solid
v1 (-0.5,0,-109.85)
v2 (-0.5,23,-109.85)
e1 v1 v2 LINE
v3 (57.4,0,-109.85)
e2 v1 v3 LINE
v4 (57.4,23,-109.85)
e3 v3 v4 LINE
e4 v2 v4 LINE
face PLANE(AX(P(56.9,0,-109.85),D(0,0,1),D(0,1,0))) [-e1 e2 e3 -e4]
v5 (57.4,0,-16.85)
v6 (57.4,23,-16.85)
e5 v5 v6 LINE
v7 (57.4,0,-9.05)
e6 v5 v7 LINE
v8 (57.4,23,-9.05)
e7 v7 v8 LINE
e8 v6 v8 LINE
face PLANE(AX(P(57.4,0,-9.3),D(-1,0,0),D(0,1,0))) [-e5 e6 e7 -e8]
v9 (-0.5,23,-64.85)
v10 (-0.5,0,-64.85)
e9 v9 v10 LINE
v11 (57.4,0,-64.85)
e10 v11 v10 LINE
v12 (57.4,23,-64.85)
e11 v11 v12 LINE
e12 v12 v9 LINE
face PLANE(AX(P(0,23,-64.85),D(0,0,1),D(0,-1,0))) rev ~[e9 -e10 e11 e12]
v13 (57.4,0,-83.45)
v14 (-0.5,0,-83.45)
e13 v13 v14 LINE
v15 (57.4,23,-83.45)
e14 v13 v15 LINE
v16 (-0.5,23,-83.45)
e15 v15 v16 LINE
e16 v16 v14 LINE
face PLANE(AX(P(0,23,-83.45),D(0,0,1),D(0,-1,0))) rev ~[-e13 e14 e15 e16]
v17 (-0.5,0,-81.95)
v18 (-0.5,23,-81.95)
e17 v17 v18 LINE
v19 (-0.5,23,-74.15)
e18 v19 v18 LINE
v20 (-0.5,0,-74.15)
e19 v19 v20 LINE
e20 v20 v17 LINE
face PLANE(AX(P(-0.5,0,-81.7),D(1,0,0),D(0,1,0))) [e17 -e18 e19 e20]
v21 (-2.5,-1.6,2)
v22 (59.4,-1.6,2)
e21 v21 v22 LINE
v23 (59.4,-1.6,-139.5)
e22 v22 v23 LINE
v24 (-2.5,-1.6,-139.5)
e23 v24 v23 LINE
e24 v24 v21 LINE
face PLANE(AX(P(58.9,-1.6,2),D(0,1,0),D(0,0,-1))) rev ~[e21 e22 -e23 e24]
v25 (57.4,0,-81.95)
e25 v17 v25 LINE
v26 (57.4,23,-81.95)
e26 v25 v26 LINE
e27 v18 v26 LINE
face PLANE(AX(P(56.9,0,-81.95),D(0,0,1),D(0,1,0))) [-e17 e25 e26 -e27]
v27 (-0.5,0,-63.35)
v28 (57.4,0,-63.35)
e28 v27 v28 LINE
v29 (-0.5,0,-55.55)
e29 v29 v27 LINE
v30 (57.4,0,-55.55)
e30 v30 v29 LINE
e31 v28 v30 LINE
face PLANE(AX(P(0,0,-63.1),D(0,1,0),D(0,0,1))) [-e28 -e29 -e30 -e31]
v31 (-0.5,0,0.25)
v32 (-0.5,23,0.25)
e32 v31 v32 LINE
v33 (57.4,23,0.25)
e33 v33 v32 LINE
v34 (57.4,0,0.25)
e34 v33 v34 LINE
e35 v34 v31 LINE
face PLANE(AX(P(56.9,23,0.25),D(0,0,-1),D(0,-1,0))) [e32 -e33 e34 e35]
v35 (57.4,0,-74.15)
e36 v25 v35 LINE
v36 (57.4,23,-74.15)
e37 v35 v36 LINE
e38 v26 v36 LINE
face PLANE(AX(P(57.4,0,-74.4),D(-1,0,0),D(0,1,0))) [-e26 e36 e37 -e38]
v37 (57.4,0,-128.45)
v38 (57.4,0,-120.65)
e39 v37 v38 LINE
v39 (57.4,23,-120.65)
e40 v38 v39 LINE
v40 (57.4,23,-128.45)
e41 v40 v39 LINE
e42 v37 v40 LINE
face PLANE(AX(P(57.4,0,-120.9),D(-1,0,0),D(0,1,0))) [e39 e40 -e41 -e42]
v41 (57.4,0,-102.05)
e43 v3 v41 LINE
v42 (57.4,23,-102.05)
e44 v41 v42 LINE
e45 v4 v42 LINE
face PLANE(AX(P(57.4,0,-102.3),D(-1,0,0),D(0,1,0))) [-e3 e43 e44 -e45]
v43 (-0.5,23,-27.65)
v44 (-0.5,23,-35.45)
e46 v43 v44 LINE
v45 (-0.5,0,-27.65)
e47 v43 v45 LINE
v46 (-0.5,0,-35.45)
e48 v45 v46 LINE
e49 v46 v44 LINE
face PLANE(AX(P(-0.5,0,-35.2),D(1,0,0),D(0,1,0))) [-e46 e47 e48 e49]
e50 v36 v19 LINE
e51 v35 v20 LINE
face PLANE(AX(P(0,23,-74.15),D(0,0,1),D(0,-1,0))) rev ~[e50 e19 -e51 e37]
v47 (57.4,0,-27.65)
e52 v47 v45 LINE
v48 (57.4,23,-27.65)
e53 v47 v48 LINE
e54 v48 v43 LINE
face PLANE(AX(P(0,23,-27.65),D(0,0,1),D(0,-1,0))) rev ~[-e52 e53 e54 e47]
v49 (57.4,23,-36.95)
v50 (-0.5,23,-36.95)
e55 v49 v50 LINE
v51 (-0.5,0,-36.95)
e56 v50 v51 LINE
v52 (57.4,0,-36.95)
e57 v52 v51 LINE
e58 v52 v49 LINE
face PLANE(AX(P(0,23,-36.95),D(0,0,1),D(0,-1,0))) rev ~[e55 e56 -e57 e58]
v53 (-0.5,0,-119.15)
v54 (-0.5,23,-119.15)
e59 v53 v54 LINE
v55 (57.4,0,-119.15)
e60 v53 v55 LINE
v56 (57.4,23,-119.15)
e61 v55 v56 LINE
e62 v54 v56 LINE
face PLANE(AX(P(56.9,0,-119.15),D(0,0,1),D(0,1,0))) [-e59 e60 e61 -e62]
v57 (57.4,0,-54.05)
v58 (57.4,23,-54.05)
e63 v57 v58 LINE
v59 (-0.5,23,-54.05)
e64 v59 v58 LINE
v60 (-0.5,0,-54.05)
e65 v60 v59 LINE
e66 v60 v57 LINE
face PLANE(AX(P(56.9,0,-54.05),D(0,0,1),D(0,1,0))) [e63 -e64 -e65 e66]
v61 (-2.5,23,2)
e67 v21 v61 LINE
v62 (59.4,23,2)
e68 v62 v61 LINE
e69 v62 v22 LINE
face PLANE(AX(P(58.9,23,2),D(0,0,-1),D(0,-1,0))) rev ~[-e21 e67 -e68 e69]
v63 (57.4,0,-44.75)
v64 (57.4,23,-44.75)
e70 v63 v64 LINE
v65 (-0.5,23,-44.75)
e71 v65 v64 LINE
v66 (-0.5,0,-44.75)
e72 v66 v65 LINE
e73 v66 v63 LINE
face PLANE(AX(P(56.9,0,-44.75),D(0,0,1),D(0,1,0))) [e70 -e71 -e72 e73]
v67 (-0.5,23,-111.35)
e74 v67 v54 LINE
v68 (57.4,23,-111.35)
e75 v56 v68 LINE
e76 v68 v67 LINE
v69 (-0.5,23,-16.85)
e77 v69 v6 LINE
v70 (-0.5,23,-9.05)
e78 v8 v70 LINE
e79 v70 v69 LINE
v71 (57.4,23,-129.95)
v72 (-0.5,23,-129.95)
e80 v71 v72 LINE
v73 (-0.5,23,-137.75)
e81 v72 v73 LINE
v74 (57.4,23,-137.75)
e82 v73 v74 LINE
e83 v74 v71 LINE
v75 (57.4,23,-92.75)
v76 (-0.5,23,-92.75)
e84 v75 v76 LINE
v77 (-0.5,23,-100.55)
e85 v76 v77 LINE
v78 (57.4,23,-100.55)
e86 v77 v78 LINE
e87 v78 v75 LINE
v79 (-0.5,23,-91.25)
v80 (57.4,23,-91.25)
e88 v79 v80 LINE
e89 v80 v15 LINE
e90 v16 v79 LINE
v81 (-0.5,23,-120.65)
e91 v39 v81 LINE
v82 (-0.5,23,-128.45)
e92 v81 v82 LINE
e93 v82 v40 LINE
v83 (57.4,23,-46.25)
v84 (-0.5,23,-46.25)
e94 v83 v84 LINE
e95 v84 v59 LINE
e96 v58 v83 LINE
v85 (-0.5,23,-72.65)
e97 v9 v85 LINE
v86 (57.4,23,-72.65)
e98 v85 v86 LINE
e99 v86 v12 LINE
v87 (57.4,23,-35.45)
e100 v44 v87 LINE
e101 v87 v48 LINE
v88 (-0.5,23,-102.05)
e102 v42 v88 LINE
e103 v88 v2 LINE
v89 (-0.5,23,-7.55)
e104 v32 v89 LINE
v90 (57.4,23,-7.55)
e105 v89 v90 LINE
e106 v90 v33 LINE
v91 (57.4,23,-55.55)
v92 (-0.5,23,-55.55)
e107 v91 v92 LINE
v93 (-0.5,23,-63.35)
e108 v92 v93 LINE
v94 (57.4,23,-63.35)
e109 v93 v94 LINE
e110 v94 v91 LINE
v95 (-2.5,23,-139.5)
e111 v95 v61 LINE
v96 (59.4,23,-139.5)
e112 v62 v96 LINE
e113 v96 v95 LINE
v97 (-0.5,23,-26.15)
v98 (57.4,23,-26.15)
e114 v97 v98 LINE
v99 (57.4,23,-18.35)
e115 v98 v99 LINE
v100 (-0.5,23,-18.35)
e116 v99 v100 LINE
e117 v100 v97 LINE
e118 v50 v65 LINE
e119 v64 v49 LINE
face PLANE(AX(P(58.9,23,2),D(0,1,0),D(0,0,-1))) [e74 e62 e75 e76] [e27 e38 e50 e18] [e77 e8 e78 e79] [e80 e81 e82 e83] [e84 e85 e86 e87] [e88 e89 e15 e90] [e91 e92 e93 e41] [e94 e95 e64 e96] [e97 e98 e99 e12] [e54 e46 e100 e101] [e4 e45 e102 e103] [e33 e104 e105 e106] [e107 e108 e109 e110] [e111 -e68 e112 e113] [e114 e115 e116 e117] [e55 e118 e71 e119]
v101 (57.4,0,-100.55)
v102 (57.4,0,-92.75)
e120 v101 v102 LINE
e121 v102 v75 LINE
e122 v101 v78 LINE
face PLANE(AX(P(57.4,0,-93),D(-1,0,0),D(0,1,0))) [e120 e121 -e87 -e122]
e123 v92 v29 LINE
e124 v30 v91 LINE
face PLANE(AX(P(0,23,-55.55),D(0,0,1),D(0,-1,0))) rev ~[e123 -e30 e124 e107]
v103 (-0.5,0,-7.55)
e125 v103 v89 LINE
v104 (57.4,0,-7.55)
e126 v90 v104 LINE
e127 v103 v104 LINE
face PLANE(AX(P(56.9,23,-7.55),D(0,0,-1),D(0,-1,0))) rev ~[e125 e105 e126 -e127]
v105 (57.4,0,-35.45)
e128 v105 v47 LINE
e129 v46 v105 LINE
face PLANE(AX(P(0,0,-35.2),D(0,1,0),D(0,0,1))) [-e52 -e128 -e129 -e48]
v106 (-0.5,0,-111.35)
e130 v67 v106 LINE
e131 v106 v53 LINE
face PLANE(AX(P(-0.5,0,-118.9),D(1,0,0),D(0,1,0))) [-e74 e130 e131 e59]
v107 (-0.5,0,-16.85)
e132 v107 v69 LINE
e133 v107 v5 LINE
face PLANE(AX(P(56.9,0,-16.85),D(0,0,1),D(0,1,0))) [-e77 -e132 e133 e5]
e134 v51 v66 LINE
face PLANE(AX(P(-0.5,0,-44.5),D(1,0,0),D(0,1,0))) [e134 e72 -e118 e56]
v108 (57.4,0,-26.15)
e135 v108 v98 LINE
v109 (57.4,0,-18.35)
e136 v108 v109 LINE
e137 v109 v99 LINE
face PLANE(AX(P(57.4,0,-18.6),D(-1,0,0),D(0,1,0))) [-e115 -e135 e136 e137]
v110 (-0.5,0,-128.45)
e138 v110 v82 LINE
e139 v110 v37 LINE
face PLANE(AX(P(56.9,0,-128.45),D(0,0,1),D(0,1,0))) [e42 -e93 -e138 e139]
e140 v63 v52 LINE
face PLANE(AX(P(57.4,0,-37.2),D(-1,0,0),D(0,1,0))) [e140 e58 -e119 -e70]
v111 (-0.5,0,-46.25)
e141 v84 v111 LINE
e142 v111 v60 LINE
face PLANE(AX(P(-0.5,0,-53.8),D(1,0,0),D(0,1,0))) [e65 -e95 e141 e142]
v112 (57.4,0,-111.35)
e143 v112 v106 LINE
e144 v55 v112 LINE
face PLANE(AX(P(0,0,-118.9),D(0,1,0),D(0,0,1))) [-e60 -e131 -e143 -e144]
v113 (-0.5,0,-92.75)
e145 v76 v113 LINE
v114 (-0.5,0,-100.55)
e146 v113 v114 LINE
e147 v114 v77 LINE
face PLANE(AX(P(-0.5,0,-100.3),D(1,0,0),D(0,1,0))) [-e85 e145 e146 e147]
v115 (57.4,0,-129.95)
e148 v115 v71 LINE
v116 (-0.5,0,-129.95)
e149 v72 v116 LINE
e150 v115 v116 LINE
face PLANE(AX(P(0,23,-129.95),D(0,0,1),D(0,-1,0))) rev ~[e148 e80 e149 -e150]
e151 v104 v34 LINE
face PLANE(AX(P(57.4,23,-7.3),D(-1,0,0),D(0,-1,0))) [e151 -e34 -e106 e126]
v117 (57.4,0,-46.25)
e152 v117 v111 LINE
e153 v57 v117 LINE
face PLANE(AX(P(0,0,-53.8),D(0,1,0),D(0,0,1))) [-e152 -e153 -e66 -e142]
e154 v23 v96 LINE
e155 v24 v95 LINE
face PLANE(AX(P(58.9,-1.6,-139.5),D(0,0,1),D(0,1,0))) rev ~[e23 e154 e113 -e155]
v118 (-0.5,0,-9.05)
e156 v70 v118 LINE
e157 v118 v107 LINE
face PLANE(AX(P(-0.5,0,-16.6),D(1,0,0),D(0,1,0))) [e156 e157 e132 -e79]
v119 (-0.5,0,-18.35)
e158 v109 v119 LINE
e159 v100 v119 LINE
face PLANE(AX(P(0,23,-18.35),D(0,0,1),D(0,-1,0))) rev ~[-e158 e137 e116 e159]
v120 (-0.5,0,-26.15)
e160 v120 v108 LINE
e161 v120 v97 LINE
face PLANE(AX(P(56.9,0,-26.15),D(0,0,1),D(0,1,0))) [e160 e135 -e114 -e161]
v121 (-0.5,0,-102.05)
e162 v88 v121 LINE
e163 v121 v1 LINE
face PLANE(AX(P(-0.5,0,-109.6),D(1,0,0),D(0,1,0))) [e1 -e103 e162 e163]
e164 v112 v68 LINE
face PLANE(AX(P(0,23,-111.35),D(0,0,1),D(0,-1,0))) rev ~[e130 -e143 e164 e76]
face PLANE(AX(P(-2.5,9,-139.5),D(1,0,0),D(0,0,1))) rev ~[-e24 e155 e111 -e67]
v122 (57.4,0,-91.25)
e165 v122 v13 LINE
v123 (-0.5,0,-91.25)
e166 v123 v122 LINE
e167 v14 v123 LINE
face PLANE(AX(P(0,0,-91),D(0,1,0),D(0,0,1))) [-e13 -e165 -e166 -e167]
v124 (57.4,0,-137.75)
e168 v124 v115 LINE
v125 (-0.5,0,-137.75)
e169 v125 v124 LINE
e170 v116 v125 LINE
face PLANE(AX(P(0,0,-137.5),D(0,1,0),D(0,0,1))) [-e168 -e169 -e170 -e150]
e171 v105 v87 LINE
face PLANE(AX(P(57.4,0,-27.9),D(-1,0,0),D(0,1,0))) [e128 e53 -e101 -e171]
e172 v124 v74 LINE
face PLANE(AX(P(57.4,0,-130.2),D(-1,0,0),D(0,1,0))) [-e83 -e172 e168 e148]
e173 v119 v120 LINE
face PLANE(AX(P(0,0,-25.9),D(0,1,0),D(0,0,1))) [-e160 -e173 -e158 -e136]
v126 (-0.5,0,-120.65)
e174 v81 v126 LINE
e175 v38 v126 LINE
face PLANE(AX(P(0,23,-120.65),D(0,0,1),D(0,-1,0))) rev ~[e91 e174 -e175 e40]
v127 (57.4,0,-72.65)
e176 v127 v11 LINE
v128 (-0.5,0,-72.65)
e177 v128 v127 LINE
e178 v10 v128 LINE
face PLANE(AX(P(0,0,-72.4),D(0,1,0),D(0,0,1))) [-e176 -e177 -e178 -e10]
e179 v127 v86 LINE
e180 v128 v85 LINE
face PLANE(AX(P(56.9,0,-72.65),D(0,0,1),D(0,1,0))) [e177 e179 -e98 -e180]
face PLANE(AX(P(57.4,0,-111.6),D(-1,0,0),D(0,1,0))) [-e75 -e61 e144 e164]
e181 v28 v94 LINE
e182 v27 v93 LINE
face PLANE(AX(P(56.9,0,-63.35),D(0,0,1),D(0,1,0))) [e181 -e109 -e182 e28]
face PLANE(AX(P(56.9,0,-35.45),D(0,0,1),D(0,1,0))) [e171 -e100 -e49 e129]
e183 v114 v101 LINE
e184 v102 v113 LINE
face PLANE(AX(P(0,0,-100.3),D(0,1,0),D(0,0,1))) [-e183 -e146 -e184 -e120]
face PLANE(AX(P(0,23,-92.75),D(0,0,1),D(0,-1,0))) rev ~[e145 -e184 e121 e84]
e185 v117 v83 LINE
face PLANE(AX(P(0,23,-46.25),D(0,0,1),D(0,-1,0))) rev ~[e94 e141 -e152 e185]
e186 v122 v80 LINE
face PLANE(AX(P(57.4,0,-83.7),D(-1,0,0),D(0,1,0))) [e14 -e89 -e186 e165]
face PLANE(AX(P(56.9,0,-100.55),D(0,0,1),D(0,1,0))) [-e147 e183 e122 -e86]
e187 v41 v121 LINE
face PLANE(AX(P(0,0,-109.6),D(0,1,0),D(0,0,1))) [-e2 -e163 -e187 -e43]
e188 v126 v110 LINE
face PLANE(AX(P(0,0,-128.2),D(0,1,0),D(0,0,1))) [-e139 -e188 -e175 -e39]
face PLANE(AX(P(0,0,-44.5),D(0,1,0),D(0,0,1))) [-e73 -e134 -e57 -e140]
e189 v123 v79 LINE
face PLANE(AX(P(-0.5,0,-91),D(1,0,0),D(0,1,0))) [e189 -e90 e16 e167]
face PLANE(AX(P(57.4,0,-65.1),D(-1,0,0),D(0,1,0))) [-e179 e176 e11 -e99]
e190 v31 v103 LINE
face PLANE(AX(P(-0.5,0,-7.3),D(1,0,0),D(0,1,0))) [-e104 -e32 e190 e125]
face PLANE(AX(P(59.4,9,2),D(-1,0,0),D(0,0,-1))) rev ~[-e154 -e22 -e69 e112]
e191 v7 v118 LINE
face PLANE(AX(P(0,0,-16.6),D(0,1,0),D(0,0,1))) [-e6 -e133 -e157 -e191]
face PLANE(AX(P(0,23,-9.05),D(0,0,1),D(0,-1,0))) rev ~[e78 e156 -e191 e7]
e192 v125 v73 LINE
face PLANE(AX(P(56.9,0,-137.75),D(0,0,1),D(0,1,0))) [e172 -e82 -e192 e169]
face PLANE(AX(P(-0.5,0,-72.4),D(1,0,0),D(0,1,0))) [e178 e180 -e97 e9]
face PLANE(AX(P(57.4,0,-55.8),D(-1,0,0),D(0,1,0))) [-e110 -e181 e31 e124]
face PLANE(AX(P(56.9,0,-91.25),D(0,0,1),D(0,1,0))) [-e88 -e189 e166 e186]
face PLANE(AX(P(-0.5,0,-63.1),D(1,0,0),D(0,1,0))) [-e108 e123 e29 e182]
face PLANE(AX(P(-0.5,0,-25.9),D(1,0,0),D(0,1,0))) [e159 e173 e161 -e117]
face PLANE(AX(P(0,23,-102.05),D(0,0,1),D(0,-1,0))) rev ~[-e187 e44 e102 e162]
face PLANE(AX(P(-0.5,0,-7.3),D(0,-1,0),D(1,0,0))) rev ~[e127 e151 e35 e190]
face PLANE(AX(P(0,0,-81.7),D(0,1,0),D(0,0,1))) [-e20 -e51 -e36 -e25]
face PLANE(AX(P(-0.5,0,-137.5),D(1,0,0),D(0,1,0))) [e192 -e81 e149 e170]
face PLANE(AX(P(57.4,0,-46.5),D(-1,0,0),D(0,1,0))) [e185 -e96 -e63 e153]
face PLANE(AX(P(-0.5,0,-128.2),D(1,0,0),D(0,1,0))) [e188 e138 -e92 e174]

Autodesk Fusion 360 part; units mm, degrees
sketch "Sketch1" plane through (0, 0, 0) normal (0, 1, 0) x (1, 0, 0)
  line L0 (2.75, 1.25) -> (2.75, 0)
  line L1 (2.75, 1.25) -> (54.15, 1.25)
  line L2 (54.15, 1.25) -> (54.15, 5.25)
  line L3 (54.15, 5.25) -> (2.75, 5.25)
  line L4 (2.75, 5.25) -> (2.75, 1.25)
  line L5 (0, 0) -> (56.9, 0)
  line L6 (56.9, 0) -> (56.9, 7.3)
  line L7 (56.9, 7.3) -> (0, 7.3)
  line L8 (0, 7.3) -> (0, 0)
  line L9 (-2, -2) -> (58.9, -2)
  line L10 (58.9, -2) -> (58.9, 9.3)
  line L11 (58.9, 9.3) -> (-2, 9.3)
  line L12 (-2, 9.3) -> (-2, -2)
  line L13 (58.9, -2) -> (58.9, 9.3)
  line L14 (58.9, 9.3) -> (-2, 9.3)
  line L15 (-2, 9.3) -> (-2, -2)
  line L16 (-2, -2) -> (58.9, -2)
  line L17 (2.75, 1.25) -> (54.15, 1.25)
  line L18 (2.75, 1.25) -> (2.75, 0)
  line L19 (54.15, 1.25) -> (54.15, 5.25)
  line L20 (54.15, 5.25) -> (2.75, 5.25)
  line L21 (2.75, 5.25) -> (2.75, 1.25)
  line L22 (0, 0) -> (56.9, 0)
  line L23 (56.9, 0) -> (56.9, 7.3)
  line L24 (0, 7.3) -> (0, 0)
  line L25 (56.9, 7.3) -> (0, 7.3)
  line L26 (58.9, 7.3) -> (58.9, 18.6)
  line L27 (58.9, 18.6) -> (-2, 18.6)
  line L28 (-2, 18.6) -> (-2, 7.3)
  line L29 (-2, 7.3) -> (58.9, 7.3)
  line L30 (2.75, 10.55) -> (54.15, 10.55)
  line L31 (2.75, 10.55) -> (2.75, 9.3)
  line L32 (54.15, 10.55) -> (54.15, 14.55)
  line L33 (54.15, 14.55) -> (2.75, 14.55)
  line L34 (2.75, 14.55) -> (2.75, 10.55)
  line L35 (0, 9.3) -> (56.9, 9.3)
  line L36 (56.9, 9.3) -> (56.9, 16.6)
  line L37 (0, 16.6) -> (0, 9.3)
  line L38 (56.9, 16.6) -> (0, 16.6)
  line L39 (58.9, 16.6) -> (58.9, 27.9)
  line L40 (58.9, 27.9) -> (-2, 27.9)
  line L41 (-2, 27.9) -> (-2, 16.6)
  line L42 (-2, 16.6) -> (58.9, 16.6)
  line L43 (2.75, 19.85) -> (54.15, 19.85)
  line L44 (2.75, 19.85) -> (2.75, 18.6)
  line L45 (54.15, 19.85) -> (54.15, 23.85)
  line L46 (54.15, 23.85) -> (2.75, 23.85)
  line L47 (2.75, 23.85) -> (2.75, 19.85)
  line L48 (0, 18.6) -> (56.9, 18.6)
  line L49 (56.9, 18.6) -> (56.9, 25.9)
  line L50 (0, 25.9) -> (0, 18.6)
  line L51 (56.9, 25.9) -> (0, 25.9)
  line L52 (58.9, 25.9) -> (58.9, 37.2)
  line L53 (58.9, 37.2) -> (-2, 37.2)
  line L54 (-2, 37.2) -> (-2, 25.9)
  line L55 (-2, 25.9) -> (58.9, 25.9)
  line L56 (2.75, 29.15) -> (54.15, 29.15)
  line L57 (2.75, 29.15) -> (2.75, 27.9)
  line L58 (54.15, 29.15) -> (54.15, 33.15)
  line L59 (54.15, 33.15) -> (2.75, 33.15)
  line L60 (2.75, 33.15) -> (2.75, 29.15)
  line L61 (0, 27.9) -> (56.9, 27.9)
  line L62 (56.9, 27.9) -> (56.9, 35.2)
  line L63 (0, 35.2) -> (0, 27.9)
  line L64 (56.9, 35.2) -> (0, 35.2)
  line L65 (58.9, 35.2) -> (58.9, 46.5)
  line L66 (58.9, 46.5) -> (-2, 46.5)
  line L67 (-2, 46.5) -> (-2, 35.2)
  line L68 (-2, 35.2) -> (58.9, 35.2)
  line L69 (2.75, 38.45) -> (54.15, 38.45)
  line L70 (2.75, 38.45) -> (2.75, 37.2)
  line L71 (54.15, 38.45) -> (54.15, 42.45)
  line L72 (54.15, 42.45) -> (2.75, 42.45)
  line L73 (2.75, 42.45) -> (2.75, 38.45)
  line L74 (0, 37.2) -> (56.9, 37.2)
  line L75 (56.9, 37.2) -> (56.9, 44.5)
  line L76 (0, 44.5) -> (0, 37.2)
  line L77 (56.9, 44.5) -> (0, 44.5)
  line L78 (58.9, 44.5) -> (58.9, 55.8)
  line L79 (58.9, 55.8) -> (-2, 55.8)
  line L80 (-2, 55.8) -> (-2, 44.5)
  line L81 (-2, 44.5) -> (58.9, 44.5)
  line L82 (2.75, 47.75) -> (54.15, 47.75)
  line L83 (2.75, 47.75) -> (2.75, 46.5)
  line L84 (54.15, 47.75) -> (54.15, 51.75)
  line L85 (54.15, 51.75) -> (2.75, 51.75)
  line L86 (2.75, 51.75) -> (2.75, 47.75)
  line L87 (0, 46.5) -> (56.9, 46.5)
  line L88 (56.9, 46.5) -> (56.9, 53.8)
  line L89 (0, 53.8) -> (0, 46.5)
  line L90 (56.9, 53.8) -> (0, 53.8)
  line L91 (58.9, 53.8) -> (58.9, 65.1)
  line L92 (58.9, 65.1) -> (-2, 65.1)
  line L93 (-2, 65.1) -> (-2, 53.8)
  line L94 (-2, 53.8) -> (58.9, 53.8)
  line L95 (2.75, 57.05) -> (54.15, 57.05)
  line L96 (2.75, 57.05) -> (2.75, 55.8)
  line L97 (54.15, 57.05) -> (54.15, 61.05)
  line L98 (54.15, 61.05) -> (2.75, 61.05)
  line L99 (2.75, 61.05) -> (2.75, 57.05)
  line L100 (0, 55.8) -> (56.9, 55.8)
  line L101 (56.9, 55.8) -> (56.9, 63.1)
  line L102 (0, 63.1) -> (0, 55.8)
  line L103 (56.9, 63.1) -> (0, 63.1)
  line L104 (58.9, 63.1) -> (58.9, 74.4)
  line L105 (58.9, 74.4) -> (-2, 74.4)
  line L106 (-2, 74.4) -> (-2, 63.1)
  line L107 (-2, 63.1) -> (58.9, 63.1)
  line L108 (2.75, 66.35) -> (54.15, 66.35)
  line L109 (2.75, 66.35) -> (2.75, 65.1)
  line L110 (54.15, 66.35) -> (54.15, 70.35)
  line L111 (54.15, 70.35) -> (2.75, 70.35)
  line L112 (2.75, 70.35) -> (2.75, 66.35)
  line L113 (0, 65.1) -> (56.9, 65.1)
  line L114 (56.9, 65.1) -> (56.9, 72.4)
  line L115 (0, 72.4) -> (0, 65.1)
  line L116 (56.9, 72.4) -> (0, 72.4)
  line L117 (58.9, 72.4) -> (58.9, 83.7)
  line L118 (58.9, 83.7) -> (-2, 83.7)
  line L119 (-2, 83.7) -> (-2, 72.4)
  line L120 (-2, 72.4) -> (58.9, 72.4)
  line L121 (2.75, 75.65) -> (54.15, 75.65)
  line L122 (2.75, 75.65) -> (2.75, 74.4)
  line L123 (54.15, 75.65) -> (54.15, 79.65)
  line L124 (54.15, 79.65) -> (2.75, 79.65)
  line L125 (2.75, 79.65) -> (2.75, 75.65)
  line L126 (0, 74.4) -> (56.9, 74.4)
  line L127 (56.9, 74.4) -> (56.9, 81.7)
  line L128 (0, 81.7) -> (0, 74.4)
  line L129 (56.9, 81.7) -> (0, 81.7)
  line L130 (58.9, 81.7) -> (58.9, 93)
  line L131 (58.9, 93) -> (-2, 93)
  line L132 (-2, 93) -> (-2, 81.7)
  line L133 (-2, 81.7) -> (58.9, 81.7)
  line L134 (2.75, 84.95) -> (54.15, 84.95)
  line L135 (2.75, 84.95) -> (2.75, 83.7)
  line L136 (54.15, 84.95) -> (54.15, 88.95)
  line L137 (54.15, 88.95) -> (2.75, 88.95)
  line L138 (2.75, 88.95) -> (2.75, 84.95)
  line L139 (0, 83.7) -> (56.9, 83.7)
  line L140 (56.9, 83.7) -> (56.9, 91)
  line L141 (0, 91) -> (0, 83.7)
  line L142 (56.9, 91) -> (0, 91)
  line L143 (58.9, 91) -> (58.9, 102.3)
  line L144 (58.9, 102.3) -> (-2, 102.3)
  line L145 (-2, 102.3) -> (-2, 91)
  line L146 (-2, 91) -> (58.9, 91)
  line L147 (2.75, 94.25) -> (54.15, 94.25)
  line L148 (2.75, 94.25) -> (2.75, 93)
  line L149 (54.15, 94.25) -> (54.15, 98.25)
  line L150 (54.15, 98.25) -> (2.75, 98.25)
  line L151 (2.75, 98.25) -> (2.75, 94.25)
  line L152 (0, 93) -> (56.9, 93)
  line L153 (56.9, 93) -> (56.9, 100.3)
  line L154 (0, 100.3) -> (0, 93)
  line L155 (56.9, 100.3) -> (0, 100.3)
  line L156 (58.9, 100.3) -> (58.9, 111.6)
  line L157 (58.9, 111.6) -> (-2, 111.6)
  line L158 (-2, 111.6) -> (-2, 100.3)
  line L159 (-2, 100.3) -> (58.9, 100.3)
  line L160 (2.75, 103.55) -> (54.15, 103.55)
  line L161 (2.75, 103.55) -> (2.75, 102.3)
  line L162 (54.15, 103.55) -> (54.15, 107.55)
  line L163 (54.15, 107.55) -> (2.75, 107.55)
  line L164 (2.75, 107.55) -> (2.75, 103.55)
  line L165 (0, 102.3) -> (56.9, 102.3)
  line L166 (56.9, 102.3) -> (56.9, 109.6)
  line L167 (0, 109.6) -> (0, 102.3)
  line L168 (56.9, 109.6) -> (0, 109.6)
  line L169 (58.9, 109.6) -> (58.9, 120.9)
  line L170 (58.9, 120.9) -> (-2, 120.9)
  line L171 (-2, 120.9) -> (-2, 109.6)
  line L172 (-2, 109.6) -> (58.9, 109.6)
  line L173 (2.75, 112.85) -> (54.15, 112.85)
  line L174 (2.75, 112.85) -> (2.75, 111.6)
  line L175 (54.15, 112.85) -> (54.15, 116.85)
  line L176 (54.15, 116.85) -> (2.75, 116.85)
  line L177 (2.75, 116.85) -> (2.75, 112.85)
  line L178 (0, 111.6) -> (56.9, 111.6)
  line L179 (56.9, 111.6) -> (56.9, 118.9)
  line L180 (0, 118.9) -> (0, 111.6)
  line L181 (56.9, 118.9) -> (0, 118.9)
  line L182 (58.9, 118.9) -> (58.9, 130.2)
  line L183 (58.9, 130.2) -> (-2, 130.2)
  line L184 (-2, 130.2) -> (-2, 118.9)
  line L185 (-2, 118.9) -> (58.9, 118.9)
  line L186 (2.75, 122.15) -> (54.15, 122.15)
  line L187 (2.75, 122.15) -> (2.75, 120.9)
  line L188 (54.15, 122.15) -> (54.15, 126.15)
  line L189 (54.15, 126.15) -> (2.75, 126.15)
  line L190 (2.75, 126.15) -> (2.75, 122.15)
  line L191 (0, 120.9) -> (56.9, 120.9)
  line L192 (56.9, 120.9) -> (56.9, 128.2)
  line L193 (0, 128.2) -> (0, 120.9)
  line L194 (56.9, 128.2) -> (0, 128.2)
  line L195 (58.9, 128.2) -> (58.9, 139.5)
  line L196 (58.9, 139.5) -> (-2, 139.5)
  line L197 (-2, 139.5) -> (-2, 128.2)
  line L198 (-2, 128.2) -> (58.9, 128.2)
  line L199 (2.75, 131.45) -> (54.15, 131.45)
  line L200 (2.75, 131.45) -> (2.75, 130.2)
  line L201 (54.15, 131.45) -> (54.15, 135.45)
  line L202 (54.15, 135.45) -> (2.75, 135.45)
  line L203 (2.75, 135.45) -> (2.75, 131.45)
  line L204 (0, 130.2) -> (56.9, 130.2)
  line L205 (56.9, 130.2) -> (56.9, 137.5)
  line L206 (0, 137.5) -> (0, 130.2)
  line L207 (56.9, 137.5) -> (0, 137.5)
  point P0 (0, 9.3)
  point P1 (0, 18.6)
  point P2 (0, 27.9)
  point P3 (0, 37.2)
  point P4 (0, 46.5)
  point P5 (0, 55.8)
  point P6 (0, 65.1)
  point P7 (0, 74.4)
  point P8 (0, 83.7)
  point P9 (0, 93)
  point P10 (0, 102.3)
  point P11 (0, 111.6)
  point P12 (0, 120.9)
  point P13 (0, 130.2)
extrude "Extrude1" add sketch "Sketch1" along normal blind 9 contours L5 L6 L8 L9 L10 L12 L13 L15 L16 L22 L23 L24 L29 | L1 L2 L3 L4 L17 L19 L20 L21 | L7 L10 L11 L12 L13 L14 L15 L25 L26 L28 L29 L35 | L11 L14 L28 L37 L42 | L11 L14 L26 L36 L42 | L30 L32 L33 L34 | L26 L27 L28 L38 L39 L41 L42 L48 | L27 L41 L50 L55 | L27 L39 L49 L55 | L43 L45 L46 L47 | L39 L40 L41 L51 L52 L54 L55 L61 | L40 L54 L63 L68 | L40 L52 L62 L68 | L56 L58 L59 L60 | L52 L53 L54 L64 L65 L67 L68 L74 | L53 L67 L76 L81 | L53 L65 L75 L81 | L69 L71 L72 L73 | L65 L66 L67 L77 L78 L80 L81 L87 | L66 L80 L89 L94 | L66 L78 L88 L94 | L82 L84 L85 L86 | L78 L79 L80 L90 L91 L93 L94 L100 | L79 L93 L102 L107 | L79 L91 L101 L107 | L95 L97 L98 L99 | L91 L92 L93 L103 L104 L106 L107 L113 | L92 L106 L115 L120 | L92 L104 L114 L120 | L108 L110 L111 L112 | L104 L105 L106 L116 L117 L119 L120 L126 | L105 L119 L128 L133 | L105 L117 L127 L133 | L121 L123 L124 L125 | L117 L118 L119 L129 L130 L132 L133 L139 | L118 L132 L141 L146 | L118 L130 L140 L146 | L134 L136 L137 L138 | L130 L131 L132 L142 L143 L145 L146 L152 | L131 L145 L154 L159 | L131 L143 L153 L159 | L147 L149 L150 L151 | L143 L144 L145 L155 L156 L158 L159 L165 | L144 L158 L167 L172 | L144 L156 L166 L172 | L160 L162 L163 L164 | L156 L157 L158 L168 L169 L171 L172 L178 | L157 L171 L180 L185 | L157 L169 L179 L185 | L173 L175 L176 L177 | L169 L170 L171 L181 L182 L184 L185 L191 | L170 L184 L193 L198 | L170 L182 L192 L198 | L186 L188 L189 L190 | L182 L183 L184 L194 L195 L197 L198 L204 | L183 L195 L196 L197 L205 L206 L207 | L199 L201 L202 L203 makes body 1 at (37.0167, 3, -5.25) makes body 2 at (37.0167, 3, -51.75) makes body 3 at (37.0167, 3, -88.95) makes body 4 at (37.0167, 3, -126.15) makes body 5 at (37.0167, 3, -116.85) makes body 6 at (37.0167, 3, -79.65) makes body 7 at (37.0167, 3, -42.45) makes body 8 at (37.0167, 3, -33.15) makes body 9 at (37.0167, 3, -14.55) makes body 10 at (37.0167, 3, -61.05) makes body 11 at (37.0167, 3, -98.25) makes body 12 at (37.0167, 3, -135.45) makes body 13 at (37.0167, 3, -107.55) makes body 14 at (37.0167, 3, -70.35) makes body 15 at (37.0167, 3, -23.85) makes body 16 at (58.2333, 0, -83.0333)
sketch "Sketch2" plane through (0, 0, 0) normal (0, 1, 0) x (1, 0, 0)
  line L0 (-2, -2) -> (58.9, -2)
  line L1 (58.9, -2) -> (58.9, 139.5)
  line L2 (58.9, 139.5) -> (-2, 139.5)
  line L3 (-2, 139.5) -> (-2, -2)
  point P0 (-2, -2)
  point P1 (58.9, 139.5)
extrude "Extrude2" add sketch "Sketch2" against normal blind 1.6 bodies 1 2 3 4 5 6 7 8 9 10 11 12 13 14 15 16
extrude "Extrude3" add 1 faces at (58.2333, 9, -73.7333) along direction (0, 1, 0) blind 14 on bodies 1 bodies 1
extrude "Extrude4" cut 15 faces at (0, 15.3333, -135.0667) (0, 15.3333, -123.3333) (0, 15.3333, -114.0333) (0, 15.3333, -104.7333) (0, 15.3333, -97.8667) (0, 15.3333, -86.1333) (0, 15.3333, -79.2667) (0, 15.3333, -69.9667) (0, 15.3333, -58.2333) (0, 15.3333, -51.3667) (0, 15.3333, -42.0667) (0, 15.3333, -30.3333) (0, 15.3333, -21.0333) (0, 7.6667, -14.1667) (0, 15.3333, -4.8667) along direction (-1, 0, 0) blind 0.5 on bodies 1 bodies 1
extrude "Extrude5" add 1 faces at (-2, 6.6, -92.3333) along direction (-1, 0, 0) blind 0.5 on bodies 1 bodies 1
extrude "Extrude6" cut 15 faces at (56.9, 15.3333, -14.1667) (56.9, 15.3333, -2.4333) (56.9, 15.3333, -23.4667) (56.9, 15.3333, -32.7667) (56.9, 15.3333, -42.0667) (56.9, 15.3333, -51.3667) (56.9, 15.3333, -60.6667) (56.9, 15.3333, -67.5333) (56.9, 15.3333, -76.8333) (56.9, 15.3333, -88.5667) (56.9, 15.3333, -95.4333) (56.9, 15.3333, -104.7333) (56.9, 15.3333, -116.4667) (56.9, 15.3333, -125.7667) (56.9, 15.3333, -132.6333) along direction (1, 0, 0) blind 0.5 on bodies 1 bodies 1
extrude "Extrude7" add 1 faces at (58.9, 14.8, -45.1667) along direction (1, 0, 0) blind 0.5 on bodies 1 bodies 1
extrude "Extrude8" cut 1 faces at (18.8, 7.6667, -130.2) along direction (0, 0, 1) blind 0.25 on bodies 1 bodies 1
extrude "Extrude9" cut 1 faces at (18.8, 7.6667, -120.9) along direction (0, 0, 1) blind 0.25 on bodies 1 bodies 1
extrude "Extrude10" cut 1 faces at (38.1, 15.3333, -111.6) along direction (0, 0, 1) blind 0.25 on bodies 1 bodies 1
extrude "Extrude11" cut 1 faces at (38.1, 15.3333, -102.3) along direction (0, 0, 1) blind 0.25 on bodies 1 bodies 1
extrude "Extrude12" cut 1 faces at (38.1, 15.3333, -93) along direction (0, 0, 1) blind 0.25 on bodies 1 bodies 1
extrude "Extrude13" cut 1 faces at (18.8, 7.6667, -83.7) along direction (0, 0, 1) blind 0.25 on bodies 1 bodies 1
extrude "Extrude14" cut 1 faces at (18.8, 7.6667, -74.4) along direction (0, 0, 1) blind 0.25 on bodies 1 bodies 1
extrude "Extrude15" cut 1 faces at (38.1, 15.3333, -65.1) along direction (0, 0, 1) blind 0.25 on bodies 1 bodies 1
extrude "Extrude16" cut 1 faces at (38.1, 15.3333, -55.8) along direction (0, 0, 1) blind 0.25 on bodies 1 bodies 1
extrude "Extrude17" cut 1 faces at (18.8, 7.6667, -46.5) along direction (0, 0, 1) blind 0.25 on bodies 1 bodies 1
extrude "Extrude18" cut 1 faces at (18.8, 7.6667, -37.2) along direction (0, 0, 1) blind 0.25 on bodies 1 bodies 1
extrude "Extrude19" cut 1 faces at (38.1, 15.3333, -27.9) along direction (0, 0, 1) blind 0.25 on bodies 1 bodies 1
extrude "Extrude20" cut 1 faces at (38.1, 15.3333, -18.6) along direction (0, 0, 1) blind 0.25 on bodies 1 bodies 1
extrude "Extrude21" cut 1 faces at (18.8, 7.6667, -9.3) along direction (0, 0, 1) blind 0.25 on bodies 1 bodies 1
extrude "Extrude22" cut 1 faces at (38.1, 7.6667, 0) along direction (0, 0, 1) blind 0.25 on bodies 1 bodies 1
extrude "Extrude23" cut 1 faces at (18.8, 7.6667, -7.3) along direction (0, 0, -1) blind 0.25 on bodies 1 bodies 1
extrude "Extrude24" cut 1 faces at (18.8, 15.3333, -16.6) along direction (0, 0, -1) blind 0.25 on bodies 1 bodies 1
extrude "Extrude25" cut 1 faces at (18.8, 7.6667, -25.9) along direction (0, 0, -1) blind 0.25 on bodies 1 bodies 1
extrude "Extrude26" cut 1 faces at (38.1, 15.3333, -35.2) along direction (0, 0, -1) blind 0.25 on bodies 1 bodies 1
extrude "Extrude27" cut 1 faces at (38.1, 15.3333, -44.5) along direction (0, 0, -1) blind 0.25 on bodies 1 bodies 1
extrude "Extrude28" cut 1 faces at (38.1, 15.3333, -53.8) along direction (0, 0, -1) blind 0.25 on bodies 1 bodies 1
extrude "Extrude29" cut 1 faces at (38.1, 15.3333, -63.1) along direction (0, 0, -1) blind 0.25 on bodies 1 bodies 1
extrude "Extrude30" cut 1 faces at (38.1, 15.3333, -72.4) along direction (0, 0, -1) blind 0.25 on bodies 1 bodies 1
extrude "Extrude31" cut 1 faces at (18.8, 7.6667, -81.7) along direction (0, 0, -1) blind 0.25 on bodies 1 bodies 1
extrude "Extrude32" cut 1 faces at (38.1, 15.3333, -91) along direction (0, 0, -1) blind 0.25 on bodies 1 bodies 1
extrude "Extrude33" cut 1 faces at (18.8, 7.6667, -100.3) along direction (0, 0, -1) blind 0.25 on bodies 1 bodies 1
extrude "Extrude34" cut 1 faces at (38.1, 15.3333, -109.6) along direction (0, 0, -1) blind 0.25 on bodies 1 bodies 1
extrude "Extrude35" cut 1 faces at (38.1, 15.3333, -118.9) along direction (0, 0, -1) blind 0.25 on bodies 1 bodies 1
extrude "Extrude36" cut 1 faces at (38.1, 15.3333, -128.2) along direction (0, 0, -1) blind 0.25 on bodies 1 bodies 1
extrude "Extrude37" cut 1 faces at (18.8, 7.6667, -137.5) along direction (0, 0, -1) blind 0.25 on bodies 1 bodies 1
extrude "Extrude38" cut 15 faces at (19.8833, 9, -3.9167) (19.8833, 9, -13.2167) (19.8833, 9, -22.5167) (19.8833, 9, -31.8167) (19.8833, 9, -41.1167) (19.8833, 9, -50.4167) (19.8833, 9, -59.7167) (19.8833, 9, -69.0167) (19.8833, 9, -78.3167) (19.8833, 9, -87.6167) (19.8833, 9, -96.9167) (19.8833, 9, -106.2167) (19.8833, 9, -115.5167) (19.8833, 9, -124.8167) (19.8833, 9, -134.1167) along direction (0, -1, 0) blind 9 on bodies 1 bodies 1
